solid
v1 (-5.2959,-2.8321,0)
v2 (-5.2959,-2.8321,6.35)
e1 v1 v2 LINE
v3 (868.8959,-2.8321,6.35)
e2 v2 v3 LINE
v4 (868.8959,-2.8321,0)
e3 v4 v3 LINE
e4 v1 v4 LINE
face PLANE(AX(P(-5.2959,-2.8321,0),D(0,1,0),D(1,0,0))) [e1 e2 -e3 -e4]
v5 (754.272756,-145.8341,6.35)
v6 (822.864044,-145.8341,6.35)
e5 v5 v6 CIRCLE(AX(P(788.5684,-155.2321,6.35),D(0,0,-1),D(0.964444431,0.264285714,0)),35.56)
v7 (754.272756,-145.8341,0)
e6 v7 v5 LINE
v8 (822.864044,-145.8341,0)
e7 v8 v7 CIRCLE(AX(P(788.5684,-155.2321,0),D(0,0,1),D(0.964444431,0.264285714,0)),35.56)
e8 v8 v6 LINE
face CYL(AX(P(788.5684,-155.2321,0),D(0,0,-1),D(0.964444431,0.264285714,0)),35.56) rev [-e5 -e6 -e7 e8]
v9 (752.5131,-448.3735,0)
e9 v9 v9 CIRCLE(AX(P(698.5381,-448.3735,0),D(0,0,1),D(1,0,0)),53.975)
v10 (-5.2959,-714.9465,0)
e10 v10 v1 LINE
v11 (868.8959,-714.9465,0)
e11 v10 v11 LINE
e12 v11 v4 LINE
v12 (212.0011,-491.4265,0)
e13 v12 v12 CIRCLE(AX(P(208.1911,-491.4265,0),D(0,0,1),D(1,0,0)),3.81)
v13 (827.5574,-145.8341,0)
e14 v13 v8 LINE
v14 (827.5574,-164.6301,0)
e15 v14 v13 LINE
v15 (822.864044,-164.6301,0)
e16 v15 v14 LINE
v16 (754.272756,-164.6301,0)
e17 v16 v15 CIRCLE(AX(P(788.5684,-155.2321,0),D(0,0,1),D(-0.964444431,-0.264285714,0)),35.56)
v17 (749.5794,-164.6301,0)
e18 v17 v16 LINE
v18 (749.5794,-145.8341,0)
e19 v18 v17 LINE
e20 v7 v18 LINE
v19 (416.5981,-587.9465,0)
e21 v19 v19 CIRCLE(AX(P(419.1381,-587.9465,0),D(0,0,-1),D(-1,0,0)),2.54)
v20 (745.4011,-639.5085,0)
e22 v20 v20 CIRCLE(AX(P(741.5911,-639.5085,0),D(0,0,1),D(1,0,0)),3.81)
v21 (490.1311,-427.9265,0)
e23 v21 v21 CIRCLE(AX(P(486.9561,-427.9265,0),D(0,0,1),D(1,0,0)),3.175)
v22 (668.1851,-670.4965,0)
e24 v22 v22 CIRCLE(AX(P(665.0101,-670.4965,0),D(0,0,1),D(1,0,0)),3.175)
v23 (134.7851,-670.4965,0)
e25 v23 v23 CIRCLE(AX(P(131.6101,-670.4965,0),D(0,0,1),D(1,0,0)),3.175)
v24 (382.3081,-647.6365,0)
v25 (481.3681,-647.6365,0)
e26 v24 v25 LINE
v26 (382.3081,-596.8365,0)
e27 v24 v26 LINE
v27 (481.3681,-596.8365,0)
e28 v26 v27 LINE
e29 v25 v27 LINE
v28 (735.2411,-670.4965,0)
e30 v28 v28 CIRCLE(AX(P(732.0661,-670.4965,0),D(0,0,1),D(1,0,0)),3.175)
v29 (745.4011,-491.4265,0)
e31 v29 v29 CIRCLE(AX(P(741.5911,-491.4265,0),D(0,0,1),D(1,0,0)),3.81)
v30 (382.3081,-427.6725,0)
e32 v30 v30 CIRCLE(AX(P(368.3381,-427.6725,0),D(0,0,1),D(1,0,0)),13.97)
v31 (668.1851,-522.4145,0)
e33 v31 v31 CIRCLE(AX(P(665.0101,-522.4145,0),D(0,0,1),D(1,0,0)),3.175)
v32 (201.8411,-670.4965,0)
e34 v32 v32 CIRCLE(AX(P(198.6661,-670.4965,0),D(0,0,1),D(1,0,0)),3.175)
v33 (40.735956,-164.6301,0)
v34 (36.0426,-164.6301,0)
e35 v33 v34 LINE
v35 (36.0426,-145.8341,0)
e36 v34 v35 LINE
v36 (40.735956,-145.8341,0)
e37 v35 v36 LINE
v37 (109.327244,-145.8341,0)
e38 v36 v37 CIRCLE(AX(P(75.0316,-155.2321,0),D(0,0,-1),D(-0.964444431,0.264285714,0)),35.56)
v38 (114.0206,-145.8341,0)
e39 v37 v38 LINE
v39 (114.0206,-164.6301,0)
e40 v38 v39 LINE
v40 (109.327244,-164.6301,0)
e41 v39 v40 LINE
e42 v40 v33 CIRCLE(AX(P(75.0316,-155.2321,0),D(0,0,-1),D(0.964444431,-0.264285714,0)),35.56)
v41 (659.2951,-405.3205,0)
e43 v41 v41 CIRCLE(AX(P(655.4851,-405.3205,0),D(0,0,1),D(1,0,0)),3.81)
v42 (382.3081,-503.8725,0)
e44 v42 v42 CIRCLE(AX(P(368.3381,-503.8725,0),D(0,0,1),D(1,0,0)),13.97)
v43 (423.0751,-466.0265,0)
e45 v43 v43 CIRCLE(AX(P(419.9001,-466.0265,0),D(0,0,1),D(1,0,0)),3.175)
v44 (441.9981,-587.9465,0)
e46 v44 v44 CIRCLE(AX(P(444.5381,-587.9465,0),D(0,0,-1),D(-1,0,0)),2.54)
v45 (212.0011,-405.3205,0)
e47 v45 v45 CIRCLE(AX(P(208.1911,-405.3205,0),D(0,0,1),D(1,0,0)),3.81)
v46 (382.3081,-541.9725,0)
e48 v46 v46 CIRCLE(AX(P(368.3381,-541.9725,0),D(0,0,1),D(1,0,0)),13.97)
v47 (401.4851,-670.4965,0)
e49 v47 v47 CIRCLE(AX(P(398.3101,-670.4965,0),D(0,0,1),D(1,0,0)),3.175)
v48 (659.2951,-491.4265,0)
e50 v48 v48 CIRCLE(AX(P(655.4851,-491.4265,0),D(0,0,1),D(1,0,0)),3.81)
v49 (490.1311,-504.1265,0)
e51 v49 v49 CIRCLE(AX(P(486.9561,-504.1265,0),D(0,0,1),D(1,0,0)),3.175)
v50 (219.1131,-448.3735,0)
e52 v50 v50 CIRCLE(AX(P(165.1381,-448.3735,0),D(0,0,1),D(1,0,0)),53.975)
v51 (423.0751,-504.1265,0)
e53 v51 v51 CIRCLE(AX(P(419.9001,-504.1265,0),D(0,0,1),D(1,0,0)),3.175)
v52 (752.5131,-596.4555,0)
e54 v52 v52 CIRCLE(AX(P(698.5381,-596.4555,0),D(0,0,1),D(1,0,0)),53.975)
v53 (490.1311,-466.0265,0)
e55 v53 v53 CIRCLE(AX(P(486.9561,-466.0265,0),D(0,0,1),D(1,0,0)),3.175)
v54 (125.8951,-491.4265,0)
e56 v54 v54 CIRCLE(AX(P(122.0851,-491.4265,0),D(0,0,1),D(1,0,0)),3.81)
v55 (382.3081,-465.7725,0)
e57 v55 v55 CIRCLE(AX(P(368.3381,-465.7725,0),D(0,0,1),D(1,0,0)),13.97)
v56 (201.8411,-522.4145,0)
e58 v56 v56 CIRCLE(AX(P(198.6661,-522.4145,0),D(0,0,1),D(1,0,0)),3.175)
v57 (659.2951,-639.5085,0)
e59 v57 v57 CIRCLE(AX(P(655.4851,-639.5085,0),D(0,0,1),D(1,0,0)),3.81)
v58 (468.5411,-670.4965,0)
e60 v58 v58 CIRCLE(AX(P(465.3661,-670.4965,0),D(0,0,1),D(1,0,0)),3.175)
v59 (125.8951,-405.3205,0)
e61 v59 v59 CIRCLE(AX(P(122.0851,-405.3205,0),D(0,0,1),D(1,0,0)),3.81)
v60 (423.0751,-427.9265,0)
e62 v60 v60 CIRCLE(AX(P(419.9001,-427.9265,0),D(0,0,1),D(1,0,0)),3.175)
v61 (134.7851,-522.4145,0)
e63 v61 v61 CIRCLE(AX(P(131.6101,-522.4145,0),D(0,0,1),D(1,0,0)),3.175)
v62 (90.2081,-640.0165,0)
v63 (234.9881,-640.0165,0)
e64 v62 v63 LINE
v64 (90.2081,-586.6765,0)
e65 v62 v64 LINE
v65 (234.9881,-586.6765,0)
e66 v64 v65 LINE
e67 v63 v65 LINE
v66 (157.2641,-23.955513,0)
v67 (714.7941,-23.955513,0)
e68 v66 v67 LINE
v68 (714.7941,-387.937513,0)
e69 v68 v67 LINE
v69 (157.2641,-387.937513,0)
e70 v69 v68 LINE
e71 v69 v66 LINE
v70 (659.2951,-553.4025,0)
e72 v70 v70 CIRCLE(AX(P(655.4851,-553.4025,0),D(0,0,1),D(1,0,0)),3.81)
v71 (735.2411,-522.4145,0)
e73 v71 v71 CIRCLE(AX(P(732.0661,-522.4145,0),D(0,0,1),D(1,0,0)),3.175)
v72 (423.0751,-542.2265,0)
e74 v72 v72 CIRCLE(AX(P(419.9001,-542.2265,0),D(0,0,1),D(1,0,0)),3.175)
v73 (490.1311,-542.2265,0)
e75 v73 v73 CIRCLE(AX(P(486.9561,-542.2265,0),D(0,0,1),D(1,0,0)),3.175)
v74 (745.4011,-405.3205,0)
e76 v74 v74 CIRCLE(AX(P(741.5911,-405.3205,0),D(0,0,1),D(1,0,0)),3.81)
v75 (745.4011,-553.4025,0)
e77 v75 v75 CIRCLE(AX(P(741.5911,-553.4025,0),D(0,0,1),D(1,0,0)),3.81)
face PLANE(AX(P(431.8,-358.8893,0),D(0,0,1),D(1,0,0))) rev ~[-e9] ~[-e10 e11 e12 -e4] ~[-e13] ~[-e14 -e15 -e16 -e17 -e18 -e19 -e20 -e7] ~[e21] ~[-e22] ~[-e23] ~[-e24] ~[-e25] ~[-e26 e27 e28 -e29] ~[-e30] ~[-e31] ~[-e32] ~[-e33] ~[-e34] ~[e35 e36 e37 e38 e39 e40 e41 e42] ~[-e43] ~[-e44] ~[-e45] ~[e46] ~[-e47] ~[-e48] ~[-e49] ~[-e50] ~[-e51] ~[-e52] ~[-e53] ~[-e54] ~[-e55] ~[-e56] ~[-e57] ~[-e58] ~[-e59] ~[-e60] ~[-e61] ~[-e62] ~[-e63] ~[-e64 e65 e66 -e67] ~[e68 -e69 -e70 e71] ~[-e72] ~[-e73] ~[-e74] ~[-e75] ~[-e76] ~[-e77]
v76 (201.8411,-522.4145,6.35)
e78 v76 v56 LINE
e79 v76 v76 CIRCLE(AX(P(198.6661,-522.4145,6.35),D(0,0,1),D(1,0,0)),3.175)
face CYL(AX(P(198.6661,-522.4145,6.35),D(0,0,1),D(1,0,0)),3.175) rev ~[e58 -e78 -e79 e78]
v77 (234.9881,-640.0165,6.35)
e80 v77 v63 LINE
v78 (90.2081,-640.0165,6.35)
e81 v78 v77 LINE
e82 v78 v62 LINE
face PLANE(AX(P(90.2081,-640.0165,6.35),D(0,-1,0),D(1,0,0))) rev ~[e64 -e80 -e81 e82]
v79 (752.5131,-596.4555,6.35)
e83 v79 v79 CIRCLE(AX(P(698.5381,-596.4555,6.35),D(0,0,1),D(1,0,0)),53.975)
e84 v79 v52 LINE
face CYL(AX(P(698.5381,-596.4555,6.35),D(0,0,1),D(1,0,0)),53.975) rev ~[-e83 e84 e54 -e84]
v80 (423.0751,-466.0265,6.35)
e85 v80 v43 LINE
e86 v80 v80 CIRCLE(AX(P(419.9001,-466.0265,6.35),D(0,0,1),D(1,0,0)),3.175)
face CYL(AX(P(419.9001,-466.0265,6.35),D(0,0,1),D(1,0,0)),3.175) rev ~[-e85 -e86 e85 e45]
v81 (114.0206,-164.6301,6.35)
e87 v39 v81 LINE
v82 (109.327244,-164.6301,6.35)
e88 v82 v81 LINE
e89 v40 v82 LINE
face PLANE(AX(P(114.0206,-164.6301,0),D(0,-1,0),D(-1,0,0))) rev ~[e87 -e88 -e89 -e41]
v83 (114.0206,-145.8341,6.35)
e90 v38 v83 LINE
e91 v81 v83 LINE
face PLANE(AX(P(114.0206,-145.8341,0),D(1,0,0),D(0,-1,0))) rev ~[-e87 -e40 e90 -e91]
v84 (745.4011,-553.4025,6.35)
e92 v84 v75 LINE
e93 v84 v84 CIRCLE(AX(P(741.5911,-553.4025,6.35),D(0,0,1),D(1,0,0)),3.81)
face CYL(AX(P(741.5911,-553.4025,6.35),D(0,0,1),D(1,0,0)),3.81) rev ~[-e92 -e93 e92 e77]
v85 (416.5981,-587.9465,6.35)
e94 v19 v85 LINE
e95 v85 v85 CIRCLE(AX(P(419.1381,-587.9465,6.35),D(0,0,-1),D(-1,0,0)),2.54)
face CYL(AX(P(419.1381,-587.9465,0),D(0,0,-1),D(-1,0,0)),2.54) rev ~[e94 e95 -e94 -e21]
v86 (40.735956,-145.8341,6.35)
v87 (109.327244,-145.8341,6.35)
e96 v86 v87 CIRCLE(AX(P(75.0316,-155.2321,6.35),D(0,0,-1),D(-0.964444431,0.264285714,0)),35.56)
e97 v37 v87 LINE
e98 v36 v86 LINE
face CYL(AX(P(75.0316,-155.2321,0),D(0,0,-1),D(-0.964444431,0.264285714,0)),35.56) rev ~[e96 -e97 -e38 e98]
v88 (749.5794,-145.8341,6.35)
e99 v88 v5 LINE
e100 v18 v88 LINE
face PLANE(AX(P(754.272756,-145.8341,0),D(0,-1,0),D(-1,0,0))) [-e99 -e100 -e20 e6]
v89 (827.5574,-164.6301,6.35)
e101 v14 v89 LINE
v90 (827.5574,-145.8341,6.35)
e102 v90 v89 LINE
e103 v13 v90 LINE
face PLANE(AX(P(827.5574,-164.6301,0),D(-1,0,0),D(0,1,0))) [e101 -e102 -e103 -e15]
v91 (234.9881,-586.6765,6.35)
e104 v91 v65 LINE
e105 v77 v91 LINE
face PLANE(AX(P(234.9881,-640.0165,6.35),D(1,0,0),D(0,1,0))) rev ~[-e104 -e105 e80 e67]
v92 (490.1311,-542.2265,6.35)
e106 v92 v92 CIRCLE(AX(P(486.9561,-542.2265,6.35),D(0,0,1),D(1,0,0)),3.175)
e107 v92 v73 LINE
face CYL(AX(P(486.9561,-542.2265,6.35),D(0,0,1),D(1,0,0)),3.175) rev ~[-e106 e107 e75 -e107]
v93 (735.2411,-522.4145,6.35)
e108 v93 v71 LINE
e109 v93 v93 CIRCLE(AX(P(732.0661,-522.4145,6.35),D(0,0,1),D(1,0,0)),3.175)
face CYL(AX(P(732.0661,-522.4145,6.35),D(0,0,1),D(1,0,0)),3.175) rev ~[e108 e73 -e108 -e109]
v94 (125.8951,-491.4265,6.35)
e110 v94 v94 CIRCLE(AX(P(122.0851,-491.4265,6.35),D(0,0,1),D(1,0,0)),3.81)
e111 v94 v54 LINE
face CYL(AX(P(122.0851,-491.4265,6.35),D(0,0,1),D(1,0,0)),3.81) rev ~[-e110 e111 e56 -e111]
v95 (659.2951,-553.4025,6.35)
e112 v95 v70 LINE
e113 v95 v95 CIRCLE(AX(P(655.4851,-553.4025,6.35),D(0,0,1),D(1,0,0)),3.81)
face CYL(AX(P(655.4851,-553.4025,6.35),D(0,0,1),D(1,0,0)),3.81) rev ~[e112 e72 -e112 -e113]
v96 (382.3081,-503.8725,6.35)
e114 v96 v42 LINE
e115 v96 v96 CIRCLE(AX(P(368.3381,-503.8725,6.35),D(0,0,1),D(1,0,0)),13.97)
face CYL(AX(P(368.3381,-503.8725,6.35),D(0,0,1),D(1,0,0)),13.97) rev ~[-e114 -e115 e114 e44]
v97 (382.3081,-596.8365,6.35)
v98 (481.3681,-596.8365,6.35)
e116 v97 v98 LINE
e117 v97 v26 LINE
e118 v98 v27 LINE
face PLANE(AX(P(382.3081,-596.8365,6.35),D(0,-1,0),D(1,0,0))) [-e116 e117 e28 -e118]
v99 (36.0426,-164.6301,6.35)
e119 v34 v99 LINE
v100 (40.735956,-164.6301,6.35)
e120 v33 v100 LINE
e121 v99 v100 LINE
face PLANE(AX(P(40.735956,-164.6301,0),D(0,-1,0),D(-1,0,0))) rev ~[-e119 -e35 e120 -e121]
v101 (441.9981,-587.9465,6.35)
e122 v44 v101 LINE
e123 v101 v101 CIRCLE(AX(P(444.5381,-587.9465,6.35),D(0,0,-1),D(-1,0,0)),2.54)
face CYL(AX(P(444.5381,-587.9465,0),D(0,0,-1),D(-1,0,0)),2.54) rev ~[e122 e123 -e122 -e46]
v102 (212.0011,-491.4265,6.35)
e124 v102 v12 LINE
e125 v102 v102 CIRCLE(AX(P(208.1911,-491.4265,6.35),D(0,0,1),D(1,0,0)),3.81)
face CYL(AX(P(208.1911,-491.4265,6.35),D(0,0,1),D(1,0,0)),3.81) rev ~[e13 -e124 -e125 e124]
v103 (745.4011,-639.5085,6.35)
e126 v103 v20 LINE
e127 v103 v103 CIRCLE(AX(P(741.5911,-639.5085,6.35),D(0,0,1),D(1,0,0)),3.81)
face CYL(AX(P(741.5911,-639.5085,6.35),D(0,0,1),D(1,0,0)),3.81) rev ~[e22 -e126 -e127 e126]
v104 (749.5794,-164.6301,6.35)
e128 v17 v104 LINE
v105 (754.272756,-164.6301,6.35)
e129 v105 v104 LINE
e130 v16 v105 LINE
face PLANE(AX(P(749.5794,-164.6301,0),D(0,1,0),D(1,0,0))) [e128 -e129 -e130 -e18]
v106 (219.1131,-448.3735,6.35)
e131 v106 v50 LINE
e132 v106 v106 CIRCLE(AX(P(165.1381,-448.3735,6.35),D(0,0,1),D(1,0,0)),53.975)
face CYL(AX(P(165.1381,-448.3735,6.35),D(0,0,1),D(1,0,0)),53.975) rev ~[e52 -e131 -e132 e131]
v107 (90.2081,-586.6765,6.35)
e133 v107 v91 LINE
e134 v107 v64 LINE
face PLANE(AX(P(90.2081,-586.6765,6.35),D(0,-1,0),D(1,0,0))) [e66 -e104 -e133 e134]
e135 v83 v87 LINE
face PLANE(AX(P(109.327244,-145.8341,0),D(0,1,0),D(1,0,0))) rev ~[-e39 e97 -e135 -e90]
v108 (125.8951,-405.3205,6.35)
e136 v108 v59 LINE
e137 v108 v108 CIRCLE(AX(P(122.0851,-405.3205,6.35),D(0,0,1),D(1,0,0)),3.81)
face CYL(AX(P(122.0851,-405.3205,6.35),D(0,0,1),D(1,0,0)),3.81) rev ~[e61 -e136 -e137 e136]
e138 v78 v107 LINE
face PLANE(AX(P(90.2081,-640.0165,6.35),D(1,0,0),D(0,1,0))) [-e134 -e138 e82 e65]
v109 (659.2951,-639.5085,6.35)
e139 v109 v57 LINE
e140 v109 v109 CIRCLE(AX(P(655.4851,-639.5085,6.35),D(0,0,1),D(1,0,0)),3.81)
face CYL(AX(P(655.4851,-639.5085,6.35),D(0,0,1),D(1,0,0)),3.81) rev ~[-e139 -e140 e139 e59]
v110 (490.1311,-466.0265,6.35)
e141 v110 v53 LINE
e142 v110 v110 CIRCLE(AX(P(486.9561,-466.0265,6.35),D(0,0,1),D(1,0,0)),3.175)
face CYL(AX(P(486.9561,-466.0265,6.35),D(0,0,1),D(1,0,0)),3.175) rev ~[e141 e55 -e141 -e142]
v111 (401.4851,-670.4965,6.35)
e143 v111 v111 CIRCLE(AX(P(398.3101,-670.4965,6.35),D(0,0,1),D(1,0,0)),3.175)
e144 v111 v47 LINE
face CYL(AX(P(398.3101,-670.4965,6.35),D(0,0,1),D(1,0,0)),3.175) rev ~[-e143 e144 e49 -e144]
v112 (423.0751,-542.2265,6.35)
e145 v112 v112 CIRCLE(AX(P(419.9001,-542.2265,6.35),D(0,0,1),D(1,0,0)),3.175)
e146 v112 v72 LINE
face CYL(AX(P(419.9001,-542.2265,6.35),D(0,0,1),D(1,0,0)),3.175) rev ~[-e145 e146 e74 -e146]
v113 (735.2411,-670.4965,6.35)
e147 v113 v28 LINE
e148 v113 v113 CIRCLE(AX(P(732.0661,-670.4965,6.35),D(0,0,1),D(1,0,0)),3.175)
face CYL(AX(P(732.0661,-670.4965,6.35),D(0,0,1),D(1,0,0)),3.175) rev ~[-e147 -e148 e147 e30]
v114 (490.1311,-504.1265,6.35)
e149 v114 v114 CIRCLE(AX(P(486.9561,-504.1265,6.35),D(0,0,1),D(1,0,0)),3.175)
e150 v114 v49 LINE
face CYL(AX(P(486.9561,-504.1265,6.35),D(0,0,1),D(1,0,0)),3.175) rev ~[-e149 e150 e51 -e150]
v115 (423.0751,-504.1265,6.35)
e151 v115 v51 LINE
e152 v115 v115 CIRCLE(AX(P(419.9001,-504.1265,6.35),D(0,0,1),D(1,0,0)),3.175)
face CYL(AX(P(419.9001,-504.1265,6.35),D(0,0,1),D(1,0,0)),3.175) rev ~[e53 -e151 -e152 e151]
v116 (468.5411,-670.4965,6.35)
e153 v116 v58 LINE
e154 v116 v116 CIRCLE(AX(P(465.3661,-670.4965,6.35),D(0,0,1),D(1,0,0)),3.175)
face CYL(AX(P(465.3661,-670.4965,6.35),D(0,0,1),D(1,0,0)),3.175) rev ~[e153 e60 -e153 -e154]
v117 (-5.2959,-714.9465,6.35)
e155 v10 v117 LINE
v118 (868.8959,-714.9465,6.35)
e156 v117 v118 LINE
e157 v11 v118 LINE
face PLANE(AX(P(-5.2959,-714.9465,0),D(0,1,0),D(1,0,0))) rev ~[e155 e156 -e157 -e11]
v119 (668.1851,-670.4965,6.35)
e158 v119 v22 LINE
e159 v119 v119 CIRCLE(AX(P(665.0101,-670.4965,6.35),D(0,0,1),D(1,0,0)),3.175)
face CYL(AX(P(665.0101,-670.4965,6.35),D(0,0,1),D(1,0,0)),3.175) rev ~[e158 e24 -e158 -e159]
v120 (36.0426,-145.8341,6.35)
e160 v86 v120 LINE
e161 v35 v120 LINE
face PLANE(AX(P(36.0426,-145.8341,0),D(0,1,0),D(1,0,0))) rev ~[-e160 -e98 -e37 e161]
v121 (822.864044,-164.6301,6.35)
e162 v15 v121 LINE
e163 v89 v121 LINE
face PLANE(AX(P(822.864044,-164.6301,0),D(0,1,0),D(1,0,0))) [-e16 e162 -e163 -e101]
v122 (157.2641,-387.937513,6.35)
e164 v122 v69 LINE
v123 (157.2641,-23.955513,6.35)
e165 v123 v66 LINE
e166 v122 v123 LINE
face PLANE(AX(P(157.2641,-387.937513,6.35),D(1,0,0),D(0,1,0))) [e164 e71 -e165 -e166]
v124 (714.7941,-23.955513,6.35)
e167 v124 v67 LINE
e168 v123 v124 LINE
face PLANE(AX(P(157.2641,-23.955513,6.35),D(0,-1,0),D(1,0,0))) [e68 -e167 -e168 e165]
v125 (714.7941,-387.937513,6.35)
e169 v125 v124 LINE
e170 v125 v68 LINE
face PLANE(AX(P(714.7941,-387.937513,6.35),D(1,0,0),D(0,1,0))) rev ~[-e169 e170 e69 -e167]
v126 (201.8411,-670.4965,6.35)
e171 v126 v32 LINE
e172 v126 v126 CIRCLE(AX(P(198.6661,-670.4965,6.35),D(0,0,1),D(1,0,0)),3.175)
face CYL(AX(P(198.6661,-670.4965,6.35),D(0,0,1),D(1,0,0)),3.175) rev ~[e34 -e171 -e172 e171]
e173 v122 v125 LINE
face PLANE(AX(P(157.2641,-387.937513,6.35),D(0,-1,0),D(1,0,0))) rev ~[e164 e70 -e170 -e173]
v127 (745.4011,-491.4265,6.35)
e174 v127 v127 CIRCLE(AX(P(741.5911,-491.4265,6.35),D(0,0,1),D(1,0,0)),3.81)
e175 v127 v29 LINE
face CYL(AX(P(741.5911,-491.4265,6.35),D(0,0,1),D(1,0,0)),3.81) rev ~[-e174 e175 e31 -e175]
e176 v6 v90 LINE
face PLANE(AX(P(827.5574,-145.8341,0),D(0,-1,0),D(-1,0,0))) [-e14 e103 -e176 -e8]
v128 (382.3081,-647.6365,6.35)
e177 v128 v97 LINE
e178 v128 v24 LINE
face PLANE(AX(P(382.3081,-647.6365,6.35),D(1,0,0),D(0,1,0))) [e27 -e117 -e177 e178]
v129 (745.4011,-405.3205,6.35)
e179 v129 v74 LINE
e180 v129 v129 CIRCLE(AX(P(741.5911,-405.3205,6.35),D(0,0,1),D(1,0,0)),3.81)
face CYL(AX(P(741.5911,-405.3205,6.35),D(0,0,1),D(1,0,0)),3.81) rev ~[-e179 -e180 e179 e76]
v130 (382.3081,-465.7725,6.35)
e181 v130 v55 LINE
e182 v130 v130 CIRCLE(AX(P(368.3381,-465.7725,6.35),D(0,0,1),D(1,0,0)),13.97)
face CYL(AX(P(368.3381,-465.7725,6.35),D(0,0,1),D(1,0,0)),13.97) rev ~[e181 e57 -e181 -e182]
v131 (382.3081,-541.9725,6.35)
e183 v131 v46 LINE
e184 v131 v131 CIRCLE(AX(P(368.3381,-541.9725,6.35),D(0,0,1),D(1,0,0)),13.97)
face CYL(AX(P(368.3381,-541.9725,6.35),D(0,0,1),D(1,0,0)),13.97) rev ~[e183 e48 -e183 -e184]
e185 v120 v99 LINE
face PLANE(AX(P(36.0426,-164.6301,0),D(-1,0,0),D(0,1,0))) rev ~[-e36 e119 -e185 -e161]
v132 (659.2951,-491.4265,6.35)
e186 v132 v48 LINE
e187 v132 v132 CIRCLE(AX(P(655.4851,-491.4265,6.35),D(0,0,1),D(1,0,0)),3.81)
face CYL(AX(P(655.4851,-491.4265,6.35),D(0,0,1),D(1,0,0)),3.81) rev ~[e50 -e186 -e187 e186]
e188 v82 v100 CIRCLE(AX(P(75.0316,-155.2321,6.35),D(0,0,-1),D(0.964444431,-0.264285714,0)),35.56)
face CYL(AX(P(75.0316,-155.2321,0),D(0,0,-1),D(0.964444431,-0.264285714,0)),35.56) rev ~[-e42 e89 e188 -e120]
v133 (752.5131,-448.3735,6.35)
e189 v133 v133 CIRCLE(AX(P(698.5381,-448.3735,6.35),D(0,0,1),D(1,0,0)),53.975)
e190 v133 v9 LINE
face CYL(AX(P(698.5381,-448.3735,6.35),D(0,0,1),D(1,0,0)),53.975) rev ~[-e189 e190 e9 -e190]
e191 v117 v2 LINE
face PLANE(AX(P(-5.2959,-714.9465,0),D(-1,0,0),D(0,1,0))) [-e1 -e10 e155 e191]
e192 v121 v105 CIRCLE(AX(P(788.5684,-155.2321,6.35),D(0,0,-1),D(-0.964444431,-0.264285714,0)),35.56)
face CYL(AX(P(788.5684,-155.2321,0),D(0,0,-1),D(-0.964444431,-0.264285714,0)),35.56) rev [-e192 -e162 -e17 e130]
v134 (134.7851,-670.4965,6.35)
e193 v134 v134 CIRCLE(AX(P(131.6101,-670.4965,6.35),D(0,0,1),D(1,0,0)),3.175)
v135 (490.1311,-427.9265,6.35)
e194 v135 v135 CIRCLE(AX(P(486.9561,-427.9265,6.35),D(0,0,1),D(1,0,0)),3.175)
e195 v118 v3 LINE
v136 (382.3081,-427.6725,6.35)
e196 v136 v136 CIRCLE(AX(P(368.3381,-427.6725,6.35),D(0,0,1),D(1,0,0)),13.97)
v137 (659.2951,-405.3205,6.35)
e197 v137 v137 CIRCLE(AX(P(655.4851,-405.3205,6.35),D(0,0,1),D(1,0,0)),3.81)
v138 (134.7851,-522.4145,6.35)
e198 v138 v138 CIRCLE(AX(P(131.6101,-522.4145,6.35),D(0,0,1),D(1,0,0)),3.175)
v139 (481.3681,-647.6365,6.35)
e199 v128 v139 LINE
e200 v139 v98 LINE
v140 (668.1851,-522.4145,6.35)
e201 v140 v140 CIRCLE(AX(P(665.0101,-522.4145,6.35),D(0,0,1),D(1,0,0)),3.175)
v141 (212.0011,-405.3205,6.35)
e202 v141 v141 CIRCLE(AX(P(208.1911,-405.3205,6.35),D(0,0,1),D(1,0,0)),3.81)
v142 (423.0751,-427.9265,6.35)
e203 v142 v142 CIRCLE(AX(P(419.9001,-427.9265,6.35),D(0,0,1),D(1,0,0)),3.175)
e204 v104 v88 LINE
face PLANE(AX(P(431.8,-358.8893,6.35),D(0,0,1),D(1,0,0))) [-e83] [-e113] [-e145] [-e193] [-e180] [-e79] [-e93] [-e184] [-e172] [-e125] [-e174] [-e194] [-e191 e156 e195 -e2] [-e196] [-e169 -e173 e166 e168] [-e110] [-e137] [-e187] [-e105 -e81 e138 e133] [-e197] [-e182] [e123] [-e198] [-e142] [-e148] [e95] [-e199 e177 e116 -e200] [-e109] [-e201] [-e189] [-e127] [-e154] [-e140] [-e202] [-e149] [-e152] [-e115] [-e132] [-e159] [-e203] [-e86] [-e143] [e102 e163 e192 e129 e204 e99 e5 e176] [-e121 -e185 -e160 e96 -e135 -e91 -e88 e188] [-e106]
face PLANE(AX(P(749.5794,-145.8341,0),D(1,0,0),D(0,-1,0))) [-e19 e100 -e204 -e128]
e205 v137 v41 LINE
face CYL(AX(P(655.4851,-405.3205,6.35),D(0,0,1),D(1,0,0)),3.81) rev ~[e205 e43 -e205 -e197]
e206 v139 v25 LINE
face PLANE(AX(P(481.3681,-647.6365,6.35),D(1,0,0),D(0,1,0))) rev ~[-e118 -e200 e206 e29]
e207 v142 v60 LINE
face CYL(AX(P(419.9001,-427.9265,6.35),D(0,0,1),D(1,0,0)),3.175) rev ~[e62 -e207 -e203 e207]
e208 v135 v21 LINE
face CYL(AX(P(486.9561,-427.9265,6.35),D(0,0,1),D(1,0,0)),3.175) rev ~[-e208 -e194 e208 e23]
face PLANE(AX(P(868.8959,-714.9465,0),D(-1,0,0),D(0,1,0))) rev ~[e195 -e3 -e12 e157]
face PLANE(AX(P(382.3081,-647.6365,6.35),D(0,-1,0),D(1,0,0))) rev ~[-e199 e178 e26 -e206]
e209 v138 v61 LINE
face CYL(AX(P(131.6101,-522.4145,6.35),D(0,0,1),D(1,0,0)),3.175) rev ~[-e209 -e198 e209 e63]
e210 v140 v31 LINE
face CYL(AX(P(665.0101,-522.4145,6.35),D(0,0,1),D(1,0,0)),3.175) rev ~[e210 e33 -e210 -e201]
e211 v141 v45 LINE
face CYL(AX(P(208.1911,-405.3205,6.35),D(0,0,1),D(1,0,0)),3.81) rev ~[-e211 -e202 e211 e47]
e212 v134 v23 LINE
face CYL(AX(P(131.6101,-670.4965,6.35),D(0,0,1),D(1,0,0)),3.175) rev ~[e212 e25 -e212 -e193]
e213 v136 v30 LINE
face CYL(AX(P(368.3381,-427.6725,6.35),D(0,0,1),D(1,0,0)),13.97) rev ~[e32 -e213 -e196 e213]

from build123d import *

# Parameters (mm, degrees)
SKETCH1_W           = 874.1918
SKETCH1_H           = 712.1144
BOSS_EXTRUDE1_DEPTH = 6.35
SKETCH2_R           = 53.975
CUT_EXTRUDE1_DEPTH  = 1126.241709767
SKETCH3_R           = 3.81
CUT_EXTRUDE2_DEPTH  = 1126.241709767
SKETCH4_R           = 13.97
CUT_EXTRUDE3_DEPTH  = 1126.241709767
SKETCH5_W           = 99.06
SKETCH5_H           = 50.8
CUT_EXTRUDE4_DEPTH  = 1126.241709767
SKETCH6_R           = 3.175
CUT_EXTRUDE5_DEPTH  = 1126.241709767
CUT_EXTRUDE7_DEPTH  = 1126.241709767
SKETCH9_W           = 144.78
SKETCH9_H           = 53.34
CUT_EXTRUDE8_DEPTH  = 1126.241709767
SKETCH10_W          = 557.53
SKETCH10_H          = 363.982
CUT_EXTRUDE9_DEPTH  = 1126.241709767
SKETCH12_R          = 2.54
CUT_EXTRUDE11_DEPTH = 1126.241709767


with BuildPart() as part:
    # Sketch1 → Boss-Extrude1 (new body)
    with BuildSketch(Plane.XY):
        with Locations((431.8, -358.8893)):
            Rectangle(SKETCH1_W, SKETCH1_H)
    extrude(amount=BOSS_EXTRUDE1_DEPTH)

    # Sketch2 → Cut-Extrude1 (cut, through all)
    with BuildSketch(Plane.XY.offset(6.35)):
        with Locations((165.1381, -448.3735)):
            Circle(SKETCH2_R)
        with Locations((698.5381, -448.3735)):
            Circle(SKETCH2_R)
        with Locations((698.5381, -596.4555)):
            Circle(SKETCH2_R)
    extrude(amount=-CUT_EXTRUDE1_DEPTH, mode=Mode.SUBTRACT)

    # Sketch3 → Cut-Extrude2 (cut, through all)
    with BuildSketch(Plane.XY.offset(6.35)):
        with Locations((122.0851, -405.3205)):
            Circle(SKETCH3_R)
        with Locations((208.1911, -491.4265)):
            Circle(SKETCH3_R)
        with Locations((122.0851, -491.4265)):
            Circle(SKETCH3_R)
        with Locations((741.5911, -405.3205)):
            Circle(SKETCH3_R)
        with Locations((655.4851, -405.3205)):
            Circle(SKETCH3_R)
        with Locations((655.4851, -491.4265)):
            Circle(SKETCH3_R)
        with Locations((741.5911, -491.4265)):
            Circle(SKETCH3_R)
        with Locations((741.5911, -553.4025)):
            Circle(SKETCH3_R)
        with Locations((655.4851, -553.4025)):
            Circle(SKETCH3_R)
        with Locations((655.4851, -639.5085)):
            Circle(SKETCH3_R)
        with Locations((741.5911, -639.5085)):
            Circle(SKETCH3_R)
        with Locations((208.1911, -405.3205)):
            Circle(SKETCH3_R)
    extrude(amount=-CUT_EXTRUDE2_DEPTH, mode=Mode.SUBTRACT)

    # Sketch4 → Cut-Extrude3 (cut, through all)
    with BuildSketch(Plane.XY.offset(6.35)):
        with Locations((368.3381, -427.6725)):
            Circle(SKETCH4_R)
        with Locations((368.3381, -465.7725)):
            Circle(SKETCH4_R)
        with Locations((368.3381, -503.8725)):
            Circle(SKETCH4_R)
        with Locations((368.3381, -541.9725)):
            Circle(SKETCH4_R)
    extrude(amount=-CUT_EXTRUDE3_DEPTH, mode=Mode.SUBTRACT)

    # Sketch5 → Cut-Extrude4 (cut, through all)
    with BuildSketch(Plane.XY.offset(6.35)):
        with Locations((431.8381, -622.2365)):
            Rectangle(SKETCH5_W, SKETCH5_H)
    extrude(amount=-CUT_EXTRUDE4_DEPTH, mode=Mode.SUBTRACT)

    # Sketch6 → Cut-Extrude5 (cut, through all)
    with BuildSketch(Plane.XY.offset(6.35)):
        with Locations((131.6101, -522.4145)):
            Circle(SKETCH6_R)
        with Locations((198.6661, -522.4145)):
            Circle(SKETCH6_R)
        with Locations((131.6101, -670.4965)):
            Circle(SKETCH6_R)
        with Locations((198.6661, -670.4965)):
            Circle(SKETCH6_R)
        with Locations((398.3101, -670.4965)):
            Circle(SKETCH6_R)
        with Locations((465.3661, -670.4965)):
            Circle(SKETCH6_R)
        with Locations((419.9001, -427.9265)):
            Circle(SKETCH6_R)
        with Locations((486.9561, -427.9265)):
            Circle(SKETCH6_R)
        with Locations((419.9001, -466.0265)):
            Circle(SKETCH6_R)
        with Locations((486.9561, -466.0265)):
            Circle(SKETCH6_R)
        with Locations((419.9001, -504.1265)):
            Circle(SKETCH6_R)
        with Locations((486.9561, -504.1265)):
            Circle(SKETCH6_R)
        with Locations((419.9001, -542.2265)):
            Circle(SKETCH6_R)
        with Locations((486.9561, -542.2265)):
            Circle(SKETCH6_R)
        with Locations((665.0101, -522.4145)):
            Circle(SKETCH6_R)
        with Locations((732.0661, -522.4145)):
            Circle(SKETCH6_R)
        with Locations((665.0101, -670.4965)):
            Circle(SKETCH6_R)
        with Locations((732.0661, -670.4965)):
            Circle(SKETCH6_R)
    extrude(amount=-CUT_EXTRUDE5_DEPTH, mode=Mode.SUBTRACT)

    # Sketch8 → Cut-Extrude7 (cut, through all)
    with BuildSketch(Plane(origin=(0, 0, 0), x_dir=(-1, 0, 0), z_dir=(0, 0, -1))):
        with BuildLine():
            Line((-109.32724398, -145.8341), (-114.0206, -145.8341))
            Line((-114.0206, -145.8341), (-114.0206, -164.6301))
            Line((-114.0206, -164.6301), (-109.32724398, -164.6301))
            ThreePointArc((-109.32724398, -164.6301), (-75.0316, -190.7921), (-40.73595602, -164.6301))
            Line((-40.73595602, -164.6301), (-36.0426, -164.6301))
            Line((-36.0426, -164.6301), (-36.0426, -145.8341))
            Line((-36.0426, -145.8341), (-40.73595602, -145.8341))
            ThreePointArc((-40.73595602, -145.8341), (-75.0316, -119.6721), (-109.32724398, -145.8341))
        make_face()
        with BuildLine():
            Line((-749.5794, -164.6301), (-754.27275602, -164.6301))
            ThreePointArc((-754.27275602, -164.6301), (-788.5684, -190.7921), (-822.86404398, -164.6301))
            Line((-822.86404398, -164.6301), (-827.5574, -164.6301))
            Line((-827.5574, -164.6301), (-827.5574, -145.8341))
            Line((-827.5574, -145.8341), (-822.86404398, -145.8341))
            ThreePointArc((-822.86404398, -145.8341), (-788.5684, -119.6721), (-754.27275602, -145.8341))
            Line((-754.27275602, -145.8341), (-749.5794, -145.8341))
            Line((-749.5794, -145.8341), (-749.5794, -164.6301))
        make_face()
    extrude(amount=-CUT_EXTRUDE7_DEPTH, mode=Mode.SUBTRACT)

    # Sketch9 → Cut-Extrude8 (cut, through all)
    with BuildSketch(Plane.XY.offset(6.35)):
        with Locations((162.5981, -613.3465)):
            Rectangle(SKETCH9_W, SKETCH9_H)
    extrude(amount=-CUT_EXTRUDE8_DEPTH, mode=Mode.SUBTRACT)

    # Sketch10 → Cut-Extrude9 (cut, through all)
    with BuildSketch(Plane.XY.offset(6.35)):
        with Locations((436.0291, -205.946512668)):
            Rectangle(SKETCH10_W, SKETCH10_H)
    extrude(amount=-CUT_EXTRUDE9_DEPTH, mode=Mode.SUBTRACT)

    # Sketch12 → Cut-Extrude11 (cut, through all)
    with BuildSketch(Plane(origin=(0, 0, 0), x_dir=(-1, 0, 0), z_dir=(0, 0, -1))):
        with Locations((-444.5381, -587.9465)):
            Circle(SKETCH12_R)
        with Locations((-419.1381, -587.9465)):
            Circle(SKETCH12_R)
    extrude(amount=-CUT_EXTRUDE11_DEPTH, mode=Mode.SUBTRACT)


solid = part.part
